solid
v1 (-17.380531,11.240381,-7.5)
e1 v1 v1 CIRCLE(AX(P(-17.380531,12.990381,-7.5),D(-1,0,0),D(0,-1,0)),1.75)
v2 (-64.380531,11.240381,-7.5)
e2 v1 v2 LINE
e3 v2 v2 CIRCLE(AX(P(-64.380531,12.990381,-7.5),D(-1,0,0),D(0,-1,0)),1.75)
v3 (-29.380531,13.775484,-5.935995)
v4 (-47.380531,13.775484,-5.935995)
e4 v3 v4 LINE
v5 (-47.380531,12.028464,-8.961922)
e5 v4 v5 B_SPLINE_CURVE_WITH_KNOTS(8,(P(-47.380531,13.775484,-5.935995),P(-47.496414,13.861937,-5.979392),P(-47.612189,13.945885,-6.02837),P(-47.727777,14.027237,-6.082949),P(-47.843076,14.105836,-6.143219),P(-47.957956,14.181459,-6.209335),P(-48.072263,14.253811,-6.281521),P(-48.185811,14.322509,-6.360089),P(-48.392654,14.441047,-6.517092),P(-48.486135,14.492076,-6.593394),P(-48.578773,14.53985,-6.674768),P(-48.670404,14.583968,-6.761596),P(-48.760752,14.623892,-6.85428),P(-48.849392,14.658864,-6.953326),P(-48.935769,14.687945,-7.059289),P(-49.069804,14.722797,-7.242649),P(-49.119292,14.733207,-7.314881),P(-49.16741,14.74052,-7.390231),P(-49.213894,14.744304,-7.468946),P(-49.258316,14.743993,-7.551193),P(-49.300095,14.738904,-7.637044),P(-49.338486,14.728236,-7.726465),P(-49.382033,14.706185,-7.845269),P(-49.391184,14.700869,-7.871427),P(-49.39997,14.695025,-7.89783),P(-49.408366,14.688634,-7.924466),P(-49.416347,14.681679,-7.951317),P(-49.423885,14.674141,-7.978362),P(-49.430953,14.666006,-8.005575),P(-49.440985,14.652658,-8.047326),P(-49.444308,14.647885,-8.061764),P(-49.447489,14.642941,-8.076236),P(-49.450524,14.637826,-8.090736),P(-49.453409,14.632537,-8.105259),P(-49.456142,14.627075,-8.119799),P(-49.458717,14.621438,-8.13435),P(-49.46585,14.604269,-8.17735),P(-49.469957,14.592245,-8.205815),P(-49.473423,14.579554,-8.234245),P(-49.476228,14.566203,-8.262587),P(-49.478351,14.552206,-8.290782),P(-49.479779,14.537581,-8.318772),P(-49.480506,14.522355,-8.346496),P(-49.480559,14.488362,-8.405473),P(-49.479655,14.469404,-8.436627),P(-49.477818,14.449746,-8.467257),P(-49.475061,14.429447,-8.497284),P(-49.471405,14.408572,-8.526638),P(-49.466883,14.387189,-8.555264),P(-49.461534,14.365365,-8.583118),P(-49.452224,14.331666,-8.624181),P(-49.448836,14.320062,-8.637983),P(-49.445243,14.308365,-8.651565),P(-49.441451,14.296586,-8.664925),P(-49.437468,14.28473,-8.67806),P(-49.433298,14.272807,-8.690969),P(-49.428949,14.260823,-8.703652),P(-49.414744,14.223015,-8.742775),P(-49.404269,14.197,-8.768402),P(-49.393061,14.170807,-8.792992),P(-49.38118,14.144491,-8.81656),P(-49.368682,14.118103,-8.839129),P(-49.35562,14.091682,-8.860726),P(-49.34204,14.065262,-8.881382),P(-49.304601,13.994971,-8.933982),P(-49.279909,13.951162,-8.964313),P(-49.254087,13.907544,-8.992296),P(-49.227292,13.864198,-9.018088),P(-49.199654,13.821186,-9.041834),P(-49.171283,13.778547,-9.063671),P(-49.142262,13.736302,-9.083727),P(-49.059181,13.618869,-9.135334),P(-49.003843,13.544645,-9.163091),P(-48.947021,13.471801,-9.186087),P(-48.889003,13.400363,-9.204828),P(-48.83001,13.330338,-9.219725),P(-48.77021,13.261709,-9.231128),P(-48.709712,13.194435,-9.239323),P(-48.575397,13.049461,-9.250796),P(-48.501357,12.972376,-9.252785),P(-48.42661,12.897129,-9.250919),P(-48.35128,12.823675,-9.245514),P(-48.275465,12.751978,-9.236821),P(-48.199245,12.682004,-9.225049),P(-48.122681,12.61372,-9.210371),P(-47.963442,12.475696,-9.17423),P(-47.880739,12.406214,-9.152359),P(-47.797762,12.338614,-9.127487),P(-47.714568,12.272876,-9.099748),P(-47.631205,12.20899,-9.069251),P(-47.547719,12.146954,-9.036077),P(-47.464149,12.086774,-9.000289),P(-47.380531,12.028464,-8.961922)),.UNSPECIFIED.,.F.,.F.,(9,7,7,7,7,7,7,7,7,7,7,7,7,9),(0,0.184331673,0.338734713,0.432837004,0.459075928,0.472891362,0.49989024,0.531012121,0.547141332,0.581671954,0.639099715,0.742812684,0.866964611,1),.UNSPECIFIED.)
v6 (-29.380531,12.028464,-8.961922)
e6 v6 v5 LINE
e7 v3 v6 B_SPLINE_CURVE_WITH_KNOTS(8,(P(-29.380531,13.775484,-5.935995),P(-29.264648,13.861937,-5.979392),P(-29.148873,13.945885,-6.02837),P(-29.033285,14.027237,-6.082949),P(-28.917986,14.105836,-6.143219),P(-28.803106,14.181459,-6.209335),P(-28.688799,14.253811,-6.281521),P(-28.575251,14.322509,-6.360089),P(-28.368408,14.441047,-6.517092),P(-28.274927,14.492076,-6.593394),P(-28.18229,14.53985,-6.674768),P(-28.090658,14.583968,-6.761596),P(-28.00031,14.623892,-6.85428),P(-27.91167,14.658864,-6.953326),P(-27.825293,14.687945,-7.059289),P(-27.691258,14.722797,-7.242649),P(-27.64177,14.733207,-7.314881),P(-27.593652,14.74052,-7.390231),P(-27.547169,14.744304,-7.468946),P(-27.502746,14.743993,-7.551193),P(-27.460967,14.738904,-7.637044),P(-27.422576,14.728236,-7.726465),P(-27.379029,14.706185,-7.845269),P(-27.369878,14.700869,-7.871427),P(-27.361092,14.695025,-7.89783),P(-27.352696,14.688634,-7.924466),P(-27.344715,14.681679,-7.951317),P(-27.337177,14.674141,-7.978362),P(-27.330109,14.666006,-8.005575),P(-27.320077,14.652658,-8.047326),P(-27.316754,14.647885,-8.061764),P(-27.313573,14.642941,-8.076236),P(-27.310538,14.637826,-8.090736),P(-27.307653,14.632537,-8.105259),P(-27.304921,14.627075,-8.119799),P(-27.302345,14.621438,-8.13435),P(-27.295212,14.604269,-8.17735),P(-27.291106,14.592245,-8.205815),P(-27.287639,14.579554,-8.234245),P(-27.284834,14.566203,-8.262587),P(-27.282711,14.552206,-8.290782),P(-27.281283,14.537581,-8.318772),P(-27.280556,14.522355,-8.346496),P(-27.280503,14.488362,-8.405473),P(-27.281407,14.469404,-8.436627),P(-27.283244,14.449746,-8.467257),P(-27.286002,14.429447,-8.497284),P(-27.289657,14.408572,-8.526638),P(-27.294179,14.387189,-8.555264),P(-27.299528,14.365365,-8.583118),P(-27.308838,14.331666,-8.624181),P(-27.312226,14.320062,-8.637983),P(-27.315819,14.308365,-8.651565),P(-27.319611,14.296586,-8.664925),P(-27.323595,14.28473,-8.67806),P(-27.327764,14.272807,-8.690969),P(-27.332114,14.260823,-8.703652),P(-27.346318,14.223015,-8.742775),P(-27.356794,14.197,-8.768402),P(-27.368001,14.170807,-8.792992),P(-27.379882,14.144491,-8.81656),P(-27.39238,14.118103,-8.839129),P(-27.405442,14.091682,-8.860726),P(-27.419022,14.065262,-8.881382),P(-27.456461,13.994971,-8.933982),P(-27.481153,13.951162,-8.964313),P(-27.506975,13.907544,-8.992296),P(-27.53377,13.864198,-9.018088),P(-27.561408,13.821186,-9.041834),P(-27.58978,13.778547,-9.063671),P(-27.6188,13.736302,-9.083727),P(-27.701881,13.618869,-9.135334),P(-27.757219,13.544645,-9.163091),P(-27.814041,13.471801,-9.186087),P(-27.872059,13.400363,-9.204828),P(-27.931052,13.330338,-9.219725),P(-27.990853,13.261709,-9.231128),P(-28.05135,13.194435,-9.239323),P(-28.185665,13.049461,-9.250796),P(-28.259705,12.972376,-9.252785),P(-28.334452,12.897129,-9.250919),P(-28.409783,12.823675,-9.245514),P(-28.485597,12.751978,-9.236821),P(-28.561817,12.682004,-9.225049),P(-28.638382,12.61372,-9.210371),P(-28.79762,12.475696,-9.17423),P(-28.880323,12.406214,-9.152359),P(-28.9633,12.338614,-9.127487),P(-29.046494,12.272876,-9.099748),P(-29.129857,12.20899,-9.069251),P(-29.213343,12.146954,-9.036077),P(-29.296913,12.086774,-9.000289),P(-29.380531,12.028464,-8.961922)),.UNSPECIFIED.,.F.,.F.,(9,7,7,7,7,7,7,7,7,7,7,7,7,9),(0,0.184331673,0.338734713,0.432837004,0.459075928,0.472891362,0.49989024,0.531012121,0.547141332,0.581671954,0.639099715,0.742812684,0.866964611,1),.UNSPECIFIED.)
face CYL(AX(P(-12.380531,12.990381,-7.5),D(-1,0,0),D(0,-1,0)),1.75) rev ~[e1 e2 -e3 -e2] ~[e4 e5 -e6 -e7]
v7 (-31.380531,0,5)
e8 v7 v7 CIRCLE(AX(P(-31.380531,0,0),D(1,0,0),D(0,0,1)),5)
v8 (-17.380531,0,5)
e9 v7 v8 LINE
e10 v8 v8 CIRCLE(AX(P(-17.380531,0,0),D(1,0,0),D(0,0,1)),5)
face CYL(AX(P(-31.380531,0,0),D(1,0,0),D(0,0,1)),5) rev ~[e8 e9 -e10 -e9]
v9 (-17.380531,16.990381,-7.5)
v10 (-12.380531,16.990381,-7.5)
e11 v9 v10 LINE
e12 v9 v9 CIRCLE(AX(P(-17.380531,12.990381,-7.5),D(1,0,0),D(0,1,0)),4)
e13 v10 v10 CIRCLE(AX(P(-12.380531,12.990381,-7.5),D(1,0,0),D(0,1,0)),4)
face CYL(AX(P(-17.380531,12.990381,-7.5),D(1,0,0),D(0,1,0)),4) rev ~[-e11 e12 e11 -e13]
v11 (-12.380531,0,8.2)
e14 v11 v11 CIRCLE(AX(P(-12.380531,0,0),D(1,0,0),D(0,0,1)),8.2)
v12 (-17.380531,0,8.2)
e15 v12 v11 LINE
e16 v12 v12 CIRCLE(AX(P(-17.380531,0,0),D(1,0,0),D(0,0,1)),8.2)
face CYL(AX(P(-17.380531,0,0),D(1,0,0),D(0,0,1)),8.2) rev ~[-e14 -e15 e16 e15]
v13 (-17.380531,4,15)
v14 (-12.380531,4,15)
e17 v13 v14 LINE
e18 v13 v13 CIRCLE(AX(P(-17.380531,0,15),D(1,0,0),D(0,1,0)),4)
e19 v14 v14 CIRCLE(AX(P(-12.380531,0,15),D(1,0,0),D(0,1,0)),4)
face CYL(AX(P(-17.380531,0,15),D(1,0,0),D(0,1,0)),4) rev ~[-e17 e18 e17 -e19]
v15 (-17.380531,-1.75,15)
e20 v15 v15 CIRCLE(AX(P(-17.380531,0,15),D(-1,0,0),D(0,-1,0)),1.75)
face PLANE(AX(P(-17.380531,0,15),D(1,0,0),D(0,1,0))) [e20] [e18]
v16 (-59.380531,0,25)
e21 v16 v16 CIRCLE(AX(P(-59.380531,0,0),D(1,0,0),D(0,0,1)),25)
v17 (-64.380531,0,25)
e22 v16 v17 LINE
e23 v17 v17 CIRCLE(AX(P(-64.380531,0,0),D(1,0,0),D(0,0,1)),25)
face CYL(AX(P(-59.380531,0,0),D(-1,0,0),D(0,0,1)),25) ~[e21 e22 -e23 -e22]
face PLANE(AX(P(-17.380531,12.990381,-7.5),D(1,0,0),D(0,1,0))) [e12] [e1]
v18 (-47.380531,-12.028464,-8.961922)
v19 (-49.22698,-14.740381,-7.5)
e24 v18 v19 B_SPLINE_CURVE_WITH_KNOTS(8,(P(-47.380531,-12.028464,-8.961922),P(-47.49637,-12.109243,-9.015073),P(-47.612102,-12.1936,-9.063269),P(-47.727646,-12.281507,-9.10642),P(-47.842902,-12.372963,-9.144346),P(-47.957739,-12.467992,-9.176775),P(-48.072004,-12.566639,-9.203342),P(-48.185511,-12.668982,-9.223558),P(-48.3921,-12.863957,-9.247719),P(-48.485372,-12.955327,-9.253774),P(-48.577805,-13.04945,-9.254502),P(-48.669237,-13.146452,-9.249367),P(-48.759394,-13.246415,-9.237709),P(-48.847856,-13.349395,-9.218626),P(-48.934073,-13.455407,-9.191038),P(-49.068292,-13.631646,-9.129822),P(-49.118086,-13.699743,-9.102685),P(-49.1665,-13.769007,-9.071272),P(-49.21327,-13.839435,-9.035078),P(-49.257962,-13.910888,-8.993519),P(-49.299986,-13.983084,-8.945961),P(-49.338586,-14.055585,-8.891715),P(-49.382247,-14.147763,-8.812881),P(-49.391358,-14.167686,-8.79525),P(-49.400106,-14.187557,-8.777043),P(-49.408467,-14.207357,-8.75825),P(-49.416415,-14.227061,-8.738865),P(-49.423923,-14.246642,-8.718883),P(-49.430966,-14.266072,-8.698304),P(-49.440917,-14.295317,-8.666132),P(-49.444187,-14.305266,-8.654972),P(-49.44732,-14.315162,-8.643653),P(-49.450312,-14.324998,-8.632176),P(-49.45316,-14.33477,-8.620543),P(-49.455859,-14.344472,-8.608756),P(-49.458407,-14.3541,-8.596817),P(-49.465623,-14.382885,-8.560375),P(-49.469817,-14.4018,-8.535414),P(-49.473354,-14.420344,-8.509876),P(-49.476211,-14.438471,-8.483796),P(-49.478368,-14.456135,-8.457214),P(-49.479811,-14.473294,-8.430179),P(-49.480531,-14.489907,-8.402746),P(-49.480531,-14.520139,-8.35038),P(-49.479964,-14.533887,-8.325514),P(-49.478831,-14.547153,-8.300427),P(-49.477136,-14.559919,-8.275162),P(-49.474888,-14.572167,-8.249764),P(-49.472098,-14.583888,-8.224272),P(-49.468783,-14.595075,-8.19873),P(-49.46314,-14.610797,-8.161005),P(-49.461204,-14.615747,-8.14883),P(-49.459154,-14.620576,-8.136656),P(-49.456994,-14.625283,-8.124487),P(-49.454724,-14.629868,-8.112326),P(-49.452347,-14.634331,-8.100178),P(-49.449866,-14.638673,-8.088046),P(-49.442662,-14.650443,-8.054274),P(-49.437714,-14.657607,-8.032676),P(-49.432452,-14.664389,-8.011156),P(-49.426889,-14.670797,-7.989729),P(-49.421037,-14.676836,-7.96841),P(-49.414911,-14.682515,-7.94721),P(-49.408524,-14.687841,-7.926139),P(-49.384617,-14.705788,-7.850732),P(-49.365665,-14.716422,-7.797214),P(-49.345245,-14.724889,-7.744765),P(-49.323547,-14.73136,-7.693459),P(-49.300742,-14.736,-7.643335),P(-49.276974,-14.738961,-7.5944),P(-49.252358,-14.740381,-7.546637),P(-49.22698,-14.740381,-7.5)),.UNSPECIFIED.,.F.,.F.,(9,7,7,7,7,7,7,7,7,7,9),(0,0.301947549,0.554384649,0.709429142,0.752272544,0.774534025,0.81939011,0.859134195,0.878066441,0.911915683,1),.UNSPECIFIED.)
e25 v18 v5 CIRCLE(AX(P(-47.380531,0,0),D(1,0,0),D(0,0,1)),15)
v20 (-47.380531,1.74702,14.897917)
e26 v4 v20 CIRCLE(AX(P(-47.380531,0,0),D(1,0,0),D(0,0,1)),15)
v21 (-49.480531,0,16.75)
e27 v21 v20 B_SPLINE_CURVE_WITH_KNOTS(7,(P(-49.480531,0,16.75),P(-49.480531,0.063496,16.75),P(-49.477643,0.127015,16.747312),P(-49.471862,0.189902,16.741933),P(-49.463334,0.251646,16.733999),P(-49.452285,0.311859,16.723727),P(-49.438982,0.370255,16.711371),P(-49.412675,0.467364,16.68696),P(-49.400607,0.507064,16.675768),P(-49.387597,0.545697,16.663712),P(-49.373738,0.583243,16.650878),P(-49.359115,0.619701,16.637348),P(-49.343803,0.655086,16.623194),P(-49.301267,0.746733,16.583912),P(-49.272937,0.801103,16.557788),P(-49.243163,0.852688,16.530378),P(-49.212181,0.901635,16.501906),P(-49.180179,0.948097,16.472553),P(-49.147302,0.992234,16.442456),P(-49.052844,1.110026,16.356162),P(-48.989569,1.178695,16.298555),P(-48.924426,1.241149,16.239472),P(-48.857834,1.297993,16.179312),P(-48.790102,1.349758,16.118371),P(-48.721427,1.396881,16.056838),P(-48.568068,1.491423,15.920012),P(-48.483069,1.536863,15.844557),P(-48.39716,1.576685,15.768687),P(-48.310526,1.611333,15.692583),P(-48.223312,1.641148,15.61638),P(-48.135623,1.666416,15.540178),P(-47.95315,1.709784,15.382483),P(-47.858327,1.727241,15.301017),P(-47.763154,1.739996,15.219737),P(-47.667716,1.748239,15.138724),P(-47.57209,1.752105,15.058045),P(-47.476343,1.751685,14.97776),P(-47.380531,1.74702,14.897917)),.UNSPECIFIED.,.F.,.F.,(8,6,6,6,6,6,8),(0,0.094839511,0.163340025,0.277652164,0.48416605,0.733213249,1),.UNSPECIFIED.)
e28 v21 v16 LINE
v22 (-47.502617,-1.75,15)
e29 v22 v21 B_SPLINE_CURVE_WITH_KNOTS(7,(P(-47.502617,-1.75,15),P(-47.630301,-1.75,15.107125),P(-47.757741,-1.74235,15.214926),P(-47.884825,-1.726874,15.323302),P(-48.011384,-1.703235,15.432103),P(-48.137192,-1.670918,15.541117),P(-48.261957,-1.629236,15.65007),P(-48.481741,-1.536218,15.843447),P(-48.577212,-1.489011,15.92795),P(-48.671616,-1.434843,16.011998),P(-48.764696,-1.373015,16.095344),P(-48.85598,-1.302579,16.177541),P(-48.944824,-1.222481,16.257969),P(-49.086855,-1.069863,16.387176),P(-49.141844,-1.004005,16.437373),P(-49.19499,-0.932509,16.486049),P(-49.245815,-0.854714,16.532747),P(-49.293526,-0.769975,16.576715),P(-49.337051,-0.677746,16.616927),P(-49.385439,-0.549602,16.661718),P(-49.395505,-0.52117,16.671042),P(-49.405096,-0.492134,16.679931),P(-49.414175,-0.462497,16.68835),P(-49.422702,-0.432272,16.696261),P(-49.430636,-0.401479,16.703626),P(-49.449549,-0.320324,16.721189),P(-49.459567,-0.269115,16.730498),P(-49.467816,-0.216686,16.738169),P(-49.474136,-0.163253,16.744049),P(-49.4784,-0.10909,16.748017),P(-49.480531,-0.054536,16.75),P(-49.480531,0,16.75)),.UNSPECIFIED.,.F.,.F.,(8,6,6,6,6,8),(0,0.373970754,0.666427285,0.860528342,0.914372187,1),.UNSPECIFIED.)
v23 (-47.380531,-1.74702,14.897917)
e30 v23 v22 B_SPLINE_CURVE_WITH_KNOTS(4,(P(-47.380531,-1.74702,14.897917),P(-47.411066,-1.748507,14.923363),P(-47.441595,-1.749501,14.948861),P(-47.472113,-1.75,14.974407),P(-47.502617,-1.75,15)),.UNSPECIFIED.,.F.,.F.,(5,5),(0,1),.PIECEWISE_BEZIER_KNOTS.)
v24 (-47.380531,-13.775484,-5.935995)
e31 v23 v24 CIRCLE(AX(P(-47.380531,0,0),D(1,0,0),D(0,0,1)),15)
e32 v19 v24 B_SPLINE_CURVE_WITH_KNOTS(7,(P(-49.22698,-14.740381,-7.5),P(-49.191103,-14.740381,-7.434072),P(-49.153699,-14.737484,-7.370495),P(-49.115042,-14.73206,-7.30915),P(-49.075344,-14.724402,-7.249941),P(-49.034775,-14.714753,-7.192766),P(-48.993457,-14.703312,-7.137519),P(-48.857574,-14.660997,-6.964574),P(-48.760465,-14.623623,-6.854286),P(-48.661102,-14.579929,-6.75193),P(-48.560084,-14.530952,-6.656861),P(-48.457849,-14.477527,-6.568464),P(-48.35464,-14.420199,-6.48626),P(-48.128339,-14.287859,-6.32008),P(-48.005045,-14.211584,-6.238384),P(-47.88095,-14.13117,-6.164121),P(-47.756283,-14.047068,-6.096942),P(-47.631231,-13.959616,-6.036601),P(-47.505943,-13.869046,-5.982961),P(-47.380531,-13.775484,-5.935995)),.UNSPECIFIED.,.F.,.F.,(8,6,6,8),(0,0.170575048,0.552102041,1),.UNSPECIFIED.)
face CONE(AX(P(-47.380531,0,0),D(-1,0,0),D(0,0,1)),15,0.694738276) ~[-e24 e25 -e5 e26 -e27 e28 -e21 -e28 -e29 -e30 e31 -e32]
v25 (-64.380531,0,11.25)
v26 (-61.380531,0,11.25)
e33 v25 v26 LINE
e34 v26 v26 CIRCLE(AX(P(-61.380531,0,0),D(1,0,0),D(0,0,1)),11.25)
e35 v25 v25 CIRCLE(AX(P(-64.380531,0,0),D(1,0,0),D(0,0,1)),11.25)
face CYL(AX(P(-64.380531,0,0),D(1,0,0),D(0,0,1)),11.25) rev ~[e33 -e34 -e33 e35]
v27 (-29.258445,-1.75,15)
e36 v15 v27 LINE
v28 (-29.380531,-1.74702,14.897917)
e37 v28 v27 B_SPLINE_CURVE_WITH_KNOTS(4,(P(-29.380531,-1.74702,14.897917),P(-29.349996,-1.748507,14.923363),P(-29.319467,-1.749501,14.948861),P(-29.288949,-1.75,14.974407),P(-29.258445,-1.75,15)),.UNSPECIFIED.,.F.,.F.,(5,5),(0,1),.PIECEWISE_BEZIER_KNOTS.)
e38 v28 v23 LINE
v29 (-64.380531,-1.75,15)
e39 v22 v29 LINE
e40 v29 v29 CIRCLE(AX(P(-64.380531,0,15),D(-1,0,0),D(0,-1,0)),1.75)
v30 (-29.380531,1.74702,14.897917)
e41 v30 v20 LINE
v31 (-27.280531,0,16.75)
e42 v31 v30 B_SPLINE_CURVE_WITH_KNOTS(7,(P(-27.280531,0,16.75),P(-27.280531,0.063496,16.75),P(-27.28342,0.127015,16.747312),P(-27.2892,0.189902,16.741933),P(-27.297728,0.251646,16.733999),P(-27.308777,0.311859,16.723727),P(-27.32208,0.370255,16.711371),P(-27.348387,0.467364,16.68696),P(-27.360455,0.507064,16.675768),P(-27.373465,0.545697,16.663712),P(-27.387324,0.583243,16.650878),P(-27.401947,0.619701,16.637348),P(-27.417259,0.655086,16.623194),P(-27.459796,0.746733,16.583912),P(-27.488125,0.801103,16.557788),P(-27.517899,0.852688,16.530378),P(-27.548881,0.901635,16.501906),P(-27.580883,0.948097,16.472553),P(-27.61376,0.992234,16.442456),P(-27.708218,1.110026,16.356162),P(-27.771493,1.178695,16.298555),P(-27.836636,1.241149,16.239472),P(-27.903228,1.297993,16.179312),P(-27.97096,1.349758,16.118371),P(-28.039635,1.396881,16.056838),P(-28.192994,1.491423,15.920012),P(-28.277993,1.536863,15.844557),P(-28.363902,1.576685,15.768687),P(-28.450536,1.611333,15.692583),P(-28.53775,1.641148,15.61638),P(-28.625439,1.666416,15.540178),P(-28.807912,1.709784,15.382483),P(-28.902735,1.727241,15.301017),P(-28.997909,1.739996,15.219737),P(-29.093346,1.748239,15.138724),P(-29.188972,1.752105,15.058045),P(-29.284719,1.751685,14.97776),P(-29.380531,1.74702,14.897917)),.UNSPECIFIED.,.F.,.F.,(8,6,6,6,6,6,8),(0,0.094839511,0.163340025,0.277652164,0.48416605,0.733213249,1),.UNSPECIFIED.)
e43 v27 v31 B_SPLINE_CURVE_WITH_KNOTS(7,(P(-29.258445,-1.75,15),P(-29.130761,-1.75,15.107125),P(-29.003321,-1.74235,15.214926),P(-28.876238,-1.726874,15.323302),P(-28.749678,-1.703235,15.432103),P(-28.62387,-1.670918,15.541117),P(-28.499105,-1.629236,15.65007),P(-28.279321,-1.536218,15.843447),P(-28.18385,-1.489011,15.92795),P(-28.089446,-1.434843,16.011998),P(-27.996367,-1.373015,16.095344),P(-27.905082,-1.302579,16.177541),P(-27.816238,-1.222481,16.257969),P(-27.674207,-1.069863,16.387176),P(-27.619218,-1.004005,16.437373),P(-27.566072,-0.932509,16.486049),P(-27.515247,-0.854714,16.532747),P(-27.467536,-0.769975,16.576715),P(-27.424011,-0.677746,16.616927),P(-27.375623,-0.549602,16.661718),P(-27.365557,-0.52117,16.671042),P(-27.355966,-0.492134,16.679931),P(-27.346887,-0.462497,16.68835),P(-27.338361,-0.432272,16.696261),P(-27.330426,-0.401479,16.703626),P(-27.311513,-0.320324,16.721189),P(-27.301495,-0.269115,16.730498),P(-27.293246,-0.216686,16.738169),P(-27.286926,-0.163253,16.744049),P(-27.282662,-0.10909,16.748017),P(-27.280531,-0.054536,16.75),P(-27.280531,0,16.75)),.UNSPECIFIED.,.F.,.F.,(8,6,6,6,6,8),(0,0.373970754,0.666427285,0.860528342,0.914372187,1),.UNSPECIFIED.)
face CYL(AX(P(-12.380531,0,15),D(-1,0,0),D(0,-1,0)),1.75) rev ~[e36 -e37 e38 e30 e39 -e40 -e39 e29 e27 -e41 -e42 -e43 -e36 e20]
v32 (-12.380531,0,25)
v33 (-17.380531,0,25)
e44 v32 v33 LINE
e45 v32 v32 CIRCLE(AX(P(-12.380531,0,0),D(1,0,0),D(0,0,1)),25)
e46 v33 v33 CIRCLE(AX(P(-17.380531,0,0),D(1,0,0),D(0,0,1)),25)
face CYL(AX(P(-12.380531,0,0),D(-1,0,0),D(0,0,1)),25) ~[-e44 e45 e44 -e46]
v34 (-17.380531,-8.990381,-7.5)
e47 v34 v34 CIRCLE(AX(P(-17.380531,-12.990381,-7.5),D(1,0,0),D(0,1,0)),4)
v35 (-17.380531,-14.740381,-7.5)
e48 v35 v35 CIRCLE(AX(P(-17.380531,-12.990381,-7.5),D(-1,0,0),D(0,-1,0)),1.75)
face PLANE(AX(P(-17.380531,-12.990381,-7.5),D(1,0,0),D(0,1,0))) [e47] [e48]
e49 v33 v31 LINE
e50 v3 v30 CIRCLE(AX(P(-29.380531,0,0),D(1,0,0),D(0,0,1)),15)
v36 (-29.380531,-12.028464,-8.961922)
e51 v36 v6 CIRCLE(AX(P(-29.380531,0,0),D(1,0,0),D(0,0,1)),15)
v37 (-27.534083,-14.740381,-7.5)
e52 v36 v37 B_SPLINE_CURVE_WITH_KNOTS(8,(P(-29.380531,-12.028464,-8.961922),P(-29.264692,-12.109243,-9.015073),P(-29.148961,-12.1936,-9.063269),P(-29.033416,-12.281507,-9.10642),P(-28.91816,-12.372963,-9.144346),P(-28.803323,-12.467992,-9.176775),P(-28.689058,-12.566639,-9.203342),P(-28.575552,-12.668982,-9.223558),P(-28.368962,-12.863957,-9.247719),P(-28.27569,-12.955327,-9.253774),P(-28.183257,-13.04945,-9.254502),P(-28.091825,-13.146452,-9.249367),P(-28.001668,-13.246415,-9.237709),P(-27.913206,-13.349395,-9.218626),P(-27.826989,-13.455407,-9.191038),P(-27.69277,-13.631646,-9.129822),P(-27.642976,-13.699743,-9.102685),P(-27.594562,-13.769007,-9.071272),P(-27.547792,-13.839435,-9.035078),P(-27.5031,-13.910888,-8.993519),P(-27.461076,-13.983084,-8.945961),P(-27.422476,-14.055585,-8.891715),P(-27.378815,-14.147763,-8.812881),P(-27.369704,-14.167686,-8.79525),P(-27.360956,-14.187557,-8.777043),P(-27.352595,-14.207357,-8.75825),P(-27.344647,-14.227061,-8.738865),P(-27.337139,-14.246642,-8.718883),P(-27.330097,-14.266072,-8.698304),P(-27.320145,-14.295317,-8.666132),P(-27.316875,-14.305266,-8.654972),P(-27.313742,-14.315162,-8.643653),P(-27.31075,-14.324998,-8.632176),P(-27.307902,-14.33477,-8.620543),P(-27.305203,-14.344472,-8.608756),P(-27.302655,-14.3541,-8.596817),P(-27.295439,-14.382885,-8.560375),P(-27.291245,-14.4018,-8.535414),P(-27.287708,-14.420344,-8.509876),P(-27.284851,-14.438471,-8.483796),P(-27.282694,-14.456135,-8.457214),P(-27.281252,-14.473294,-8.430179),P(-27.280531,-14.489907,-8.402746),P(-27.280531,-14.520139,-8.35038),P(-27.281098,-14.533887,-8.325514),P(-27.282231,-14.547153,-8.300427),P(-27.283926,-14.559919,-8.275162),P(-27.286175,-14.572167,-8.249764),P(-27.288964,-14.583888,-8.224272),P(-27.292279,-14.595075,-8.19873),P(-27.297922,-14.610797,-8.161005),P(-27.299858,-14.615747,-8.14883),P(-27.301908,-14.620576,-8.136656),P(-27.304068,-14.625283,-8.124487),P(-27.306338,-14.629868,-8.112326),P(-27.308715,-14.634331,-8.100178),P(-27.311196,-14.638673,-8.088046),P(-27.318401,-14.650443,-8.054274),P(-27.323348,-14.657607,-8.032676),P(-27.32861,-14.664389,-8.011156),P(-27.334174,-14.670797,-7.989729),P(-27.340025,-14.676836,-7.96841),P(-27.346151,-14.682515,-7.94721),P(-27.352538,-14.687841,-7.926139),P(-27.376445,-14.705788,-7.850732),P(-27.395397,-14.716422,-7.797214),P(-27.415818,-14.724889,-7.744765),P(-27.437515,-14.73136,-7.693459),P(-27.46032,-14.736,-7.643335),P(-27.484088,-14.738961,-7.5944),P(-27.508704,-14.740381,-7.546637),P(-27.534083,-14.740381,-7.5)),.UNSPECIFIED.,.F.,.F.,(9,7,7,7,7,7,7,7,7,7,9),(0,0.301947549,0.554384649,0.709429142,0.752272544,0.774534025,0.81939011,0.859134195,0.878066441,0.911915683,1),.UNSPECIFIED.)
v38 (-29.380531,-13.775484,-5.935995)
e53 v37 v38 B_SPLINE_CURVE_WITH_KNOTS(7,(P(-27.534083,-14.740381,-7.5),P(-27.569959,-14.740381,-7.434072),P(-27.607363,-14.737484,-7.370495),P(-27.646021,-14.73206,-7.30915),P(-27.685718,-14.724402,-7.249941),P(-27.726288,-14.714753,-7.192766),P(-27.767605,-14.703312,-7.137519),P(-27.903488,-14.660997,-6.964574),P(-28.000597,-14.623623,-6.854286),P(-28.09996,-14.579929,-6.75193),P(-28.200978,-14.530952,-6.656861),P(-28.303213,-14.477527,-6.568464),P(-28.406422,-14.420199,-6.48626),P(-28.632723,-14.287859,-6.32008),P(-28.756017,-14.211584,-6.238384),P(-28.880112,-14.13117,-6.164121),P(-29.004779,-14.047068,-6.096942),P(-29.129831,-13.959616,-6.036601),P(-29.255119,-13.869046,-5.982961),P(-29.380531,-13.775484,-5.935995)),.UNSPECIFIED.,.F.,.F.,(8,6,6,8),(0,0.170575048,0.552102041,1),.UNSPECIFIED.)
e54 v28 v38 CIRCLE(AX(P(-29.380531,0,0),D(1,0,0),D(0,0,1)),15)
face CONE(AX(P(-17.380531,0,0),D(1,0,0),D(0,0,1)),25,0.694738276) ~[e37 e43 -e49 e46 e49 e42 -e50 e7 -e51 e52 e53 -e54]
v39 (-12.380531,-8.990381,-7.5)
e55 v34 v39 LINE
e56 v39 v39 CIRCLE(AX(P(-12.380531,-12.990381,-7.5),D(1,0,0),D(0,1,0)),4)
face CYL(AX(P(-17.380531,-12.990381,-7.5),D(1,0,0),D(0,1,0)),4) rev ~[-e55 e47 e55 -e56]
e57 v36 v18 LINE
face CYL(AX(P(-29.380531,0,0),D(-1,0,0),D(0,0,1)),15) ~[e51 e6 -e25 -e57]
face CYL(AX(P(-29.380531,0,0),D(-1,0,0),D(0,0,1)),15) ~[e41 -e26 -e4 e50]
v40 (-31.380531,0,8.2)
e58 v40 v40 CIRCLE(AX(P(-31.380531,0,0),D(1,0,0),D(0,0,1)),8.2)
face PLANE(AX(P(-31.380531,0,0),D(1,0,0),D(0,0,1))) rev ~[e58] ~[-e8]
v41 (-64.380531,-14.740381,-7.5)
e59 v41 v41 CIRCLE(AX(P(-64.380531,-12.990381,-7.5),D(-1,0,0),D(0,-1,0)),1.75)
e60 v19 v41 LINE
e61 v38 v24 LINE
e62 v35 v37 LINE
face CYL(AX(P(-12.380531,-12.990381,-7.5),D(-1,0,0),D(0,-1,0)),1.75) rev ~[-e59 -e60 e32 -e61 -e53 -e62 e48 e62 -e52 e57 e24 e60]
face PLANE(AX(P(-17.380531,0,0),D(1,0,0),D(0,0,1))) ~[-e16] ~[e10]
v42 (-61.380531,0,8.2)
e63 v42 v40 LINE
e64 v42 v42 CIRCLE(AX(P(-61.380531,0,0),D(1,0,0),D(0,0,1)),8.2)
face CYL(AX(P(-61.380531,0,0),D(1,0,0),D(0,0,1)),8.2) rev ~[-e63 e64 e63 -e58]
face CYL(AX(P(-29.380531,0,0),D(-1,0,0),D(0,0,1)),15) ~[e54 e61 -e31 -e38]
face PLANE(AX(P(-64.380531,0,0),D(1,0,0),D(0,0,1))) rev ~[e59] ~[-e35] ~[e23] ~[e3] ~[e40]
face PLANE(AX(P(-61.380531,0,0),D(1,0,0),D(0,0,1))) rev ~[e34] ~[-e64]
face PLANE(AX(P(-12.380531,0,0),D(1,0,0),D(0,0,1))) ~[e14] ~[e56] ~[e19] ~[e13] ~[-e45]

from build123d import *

# Parameters (mm, degrees)
F3_D           = 3.5
F3_START       = 12.3805311
F3_CBORE_D     = 8
F3_CBORE_DEPTH = 5


with BuildPart() as f1:
    # F0 (on Front) → F1 (revolve)
    with BuildSketch(Plane.XZ):
        Polygon((-12.3805310677, 8.2), (-12.3805310677, 25), (-17.3805310677, 25), (-29.3805310677, 15), (-47.3805310677, 15), (-59.3805310677, 25), (-64.3805310677, 25), (-64.3805310677, 11.25), (-61.3805310677, 11.25), (-61.3805310677, 8.2), (-31.3805310677, 8.2), (-31.3805310677, 5), (-17.3805310677, 5), (-17.3805310677, 8.2), align=None)
    revolve(axis=Axis((6.6371694137, 0, 0), (1, 0, 0)))

    # F3 (through all)
    # its depths count from where the whole tool has entered the part; down to there all is cleared
    with Locations(Plane.YZ.offset(-F3_START)):
        with Locations((0, 15), (-12.9903810568, -7.5), (12.9903810568, -7.5)):
            CounterBoreHole(F3_D / 2, F3_CBORE_D / 2, F3_CBORE_DEPTH)


solid = f1.part
